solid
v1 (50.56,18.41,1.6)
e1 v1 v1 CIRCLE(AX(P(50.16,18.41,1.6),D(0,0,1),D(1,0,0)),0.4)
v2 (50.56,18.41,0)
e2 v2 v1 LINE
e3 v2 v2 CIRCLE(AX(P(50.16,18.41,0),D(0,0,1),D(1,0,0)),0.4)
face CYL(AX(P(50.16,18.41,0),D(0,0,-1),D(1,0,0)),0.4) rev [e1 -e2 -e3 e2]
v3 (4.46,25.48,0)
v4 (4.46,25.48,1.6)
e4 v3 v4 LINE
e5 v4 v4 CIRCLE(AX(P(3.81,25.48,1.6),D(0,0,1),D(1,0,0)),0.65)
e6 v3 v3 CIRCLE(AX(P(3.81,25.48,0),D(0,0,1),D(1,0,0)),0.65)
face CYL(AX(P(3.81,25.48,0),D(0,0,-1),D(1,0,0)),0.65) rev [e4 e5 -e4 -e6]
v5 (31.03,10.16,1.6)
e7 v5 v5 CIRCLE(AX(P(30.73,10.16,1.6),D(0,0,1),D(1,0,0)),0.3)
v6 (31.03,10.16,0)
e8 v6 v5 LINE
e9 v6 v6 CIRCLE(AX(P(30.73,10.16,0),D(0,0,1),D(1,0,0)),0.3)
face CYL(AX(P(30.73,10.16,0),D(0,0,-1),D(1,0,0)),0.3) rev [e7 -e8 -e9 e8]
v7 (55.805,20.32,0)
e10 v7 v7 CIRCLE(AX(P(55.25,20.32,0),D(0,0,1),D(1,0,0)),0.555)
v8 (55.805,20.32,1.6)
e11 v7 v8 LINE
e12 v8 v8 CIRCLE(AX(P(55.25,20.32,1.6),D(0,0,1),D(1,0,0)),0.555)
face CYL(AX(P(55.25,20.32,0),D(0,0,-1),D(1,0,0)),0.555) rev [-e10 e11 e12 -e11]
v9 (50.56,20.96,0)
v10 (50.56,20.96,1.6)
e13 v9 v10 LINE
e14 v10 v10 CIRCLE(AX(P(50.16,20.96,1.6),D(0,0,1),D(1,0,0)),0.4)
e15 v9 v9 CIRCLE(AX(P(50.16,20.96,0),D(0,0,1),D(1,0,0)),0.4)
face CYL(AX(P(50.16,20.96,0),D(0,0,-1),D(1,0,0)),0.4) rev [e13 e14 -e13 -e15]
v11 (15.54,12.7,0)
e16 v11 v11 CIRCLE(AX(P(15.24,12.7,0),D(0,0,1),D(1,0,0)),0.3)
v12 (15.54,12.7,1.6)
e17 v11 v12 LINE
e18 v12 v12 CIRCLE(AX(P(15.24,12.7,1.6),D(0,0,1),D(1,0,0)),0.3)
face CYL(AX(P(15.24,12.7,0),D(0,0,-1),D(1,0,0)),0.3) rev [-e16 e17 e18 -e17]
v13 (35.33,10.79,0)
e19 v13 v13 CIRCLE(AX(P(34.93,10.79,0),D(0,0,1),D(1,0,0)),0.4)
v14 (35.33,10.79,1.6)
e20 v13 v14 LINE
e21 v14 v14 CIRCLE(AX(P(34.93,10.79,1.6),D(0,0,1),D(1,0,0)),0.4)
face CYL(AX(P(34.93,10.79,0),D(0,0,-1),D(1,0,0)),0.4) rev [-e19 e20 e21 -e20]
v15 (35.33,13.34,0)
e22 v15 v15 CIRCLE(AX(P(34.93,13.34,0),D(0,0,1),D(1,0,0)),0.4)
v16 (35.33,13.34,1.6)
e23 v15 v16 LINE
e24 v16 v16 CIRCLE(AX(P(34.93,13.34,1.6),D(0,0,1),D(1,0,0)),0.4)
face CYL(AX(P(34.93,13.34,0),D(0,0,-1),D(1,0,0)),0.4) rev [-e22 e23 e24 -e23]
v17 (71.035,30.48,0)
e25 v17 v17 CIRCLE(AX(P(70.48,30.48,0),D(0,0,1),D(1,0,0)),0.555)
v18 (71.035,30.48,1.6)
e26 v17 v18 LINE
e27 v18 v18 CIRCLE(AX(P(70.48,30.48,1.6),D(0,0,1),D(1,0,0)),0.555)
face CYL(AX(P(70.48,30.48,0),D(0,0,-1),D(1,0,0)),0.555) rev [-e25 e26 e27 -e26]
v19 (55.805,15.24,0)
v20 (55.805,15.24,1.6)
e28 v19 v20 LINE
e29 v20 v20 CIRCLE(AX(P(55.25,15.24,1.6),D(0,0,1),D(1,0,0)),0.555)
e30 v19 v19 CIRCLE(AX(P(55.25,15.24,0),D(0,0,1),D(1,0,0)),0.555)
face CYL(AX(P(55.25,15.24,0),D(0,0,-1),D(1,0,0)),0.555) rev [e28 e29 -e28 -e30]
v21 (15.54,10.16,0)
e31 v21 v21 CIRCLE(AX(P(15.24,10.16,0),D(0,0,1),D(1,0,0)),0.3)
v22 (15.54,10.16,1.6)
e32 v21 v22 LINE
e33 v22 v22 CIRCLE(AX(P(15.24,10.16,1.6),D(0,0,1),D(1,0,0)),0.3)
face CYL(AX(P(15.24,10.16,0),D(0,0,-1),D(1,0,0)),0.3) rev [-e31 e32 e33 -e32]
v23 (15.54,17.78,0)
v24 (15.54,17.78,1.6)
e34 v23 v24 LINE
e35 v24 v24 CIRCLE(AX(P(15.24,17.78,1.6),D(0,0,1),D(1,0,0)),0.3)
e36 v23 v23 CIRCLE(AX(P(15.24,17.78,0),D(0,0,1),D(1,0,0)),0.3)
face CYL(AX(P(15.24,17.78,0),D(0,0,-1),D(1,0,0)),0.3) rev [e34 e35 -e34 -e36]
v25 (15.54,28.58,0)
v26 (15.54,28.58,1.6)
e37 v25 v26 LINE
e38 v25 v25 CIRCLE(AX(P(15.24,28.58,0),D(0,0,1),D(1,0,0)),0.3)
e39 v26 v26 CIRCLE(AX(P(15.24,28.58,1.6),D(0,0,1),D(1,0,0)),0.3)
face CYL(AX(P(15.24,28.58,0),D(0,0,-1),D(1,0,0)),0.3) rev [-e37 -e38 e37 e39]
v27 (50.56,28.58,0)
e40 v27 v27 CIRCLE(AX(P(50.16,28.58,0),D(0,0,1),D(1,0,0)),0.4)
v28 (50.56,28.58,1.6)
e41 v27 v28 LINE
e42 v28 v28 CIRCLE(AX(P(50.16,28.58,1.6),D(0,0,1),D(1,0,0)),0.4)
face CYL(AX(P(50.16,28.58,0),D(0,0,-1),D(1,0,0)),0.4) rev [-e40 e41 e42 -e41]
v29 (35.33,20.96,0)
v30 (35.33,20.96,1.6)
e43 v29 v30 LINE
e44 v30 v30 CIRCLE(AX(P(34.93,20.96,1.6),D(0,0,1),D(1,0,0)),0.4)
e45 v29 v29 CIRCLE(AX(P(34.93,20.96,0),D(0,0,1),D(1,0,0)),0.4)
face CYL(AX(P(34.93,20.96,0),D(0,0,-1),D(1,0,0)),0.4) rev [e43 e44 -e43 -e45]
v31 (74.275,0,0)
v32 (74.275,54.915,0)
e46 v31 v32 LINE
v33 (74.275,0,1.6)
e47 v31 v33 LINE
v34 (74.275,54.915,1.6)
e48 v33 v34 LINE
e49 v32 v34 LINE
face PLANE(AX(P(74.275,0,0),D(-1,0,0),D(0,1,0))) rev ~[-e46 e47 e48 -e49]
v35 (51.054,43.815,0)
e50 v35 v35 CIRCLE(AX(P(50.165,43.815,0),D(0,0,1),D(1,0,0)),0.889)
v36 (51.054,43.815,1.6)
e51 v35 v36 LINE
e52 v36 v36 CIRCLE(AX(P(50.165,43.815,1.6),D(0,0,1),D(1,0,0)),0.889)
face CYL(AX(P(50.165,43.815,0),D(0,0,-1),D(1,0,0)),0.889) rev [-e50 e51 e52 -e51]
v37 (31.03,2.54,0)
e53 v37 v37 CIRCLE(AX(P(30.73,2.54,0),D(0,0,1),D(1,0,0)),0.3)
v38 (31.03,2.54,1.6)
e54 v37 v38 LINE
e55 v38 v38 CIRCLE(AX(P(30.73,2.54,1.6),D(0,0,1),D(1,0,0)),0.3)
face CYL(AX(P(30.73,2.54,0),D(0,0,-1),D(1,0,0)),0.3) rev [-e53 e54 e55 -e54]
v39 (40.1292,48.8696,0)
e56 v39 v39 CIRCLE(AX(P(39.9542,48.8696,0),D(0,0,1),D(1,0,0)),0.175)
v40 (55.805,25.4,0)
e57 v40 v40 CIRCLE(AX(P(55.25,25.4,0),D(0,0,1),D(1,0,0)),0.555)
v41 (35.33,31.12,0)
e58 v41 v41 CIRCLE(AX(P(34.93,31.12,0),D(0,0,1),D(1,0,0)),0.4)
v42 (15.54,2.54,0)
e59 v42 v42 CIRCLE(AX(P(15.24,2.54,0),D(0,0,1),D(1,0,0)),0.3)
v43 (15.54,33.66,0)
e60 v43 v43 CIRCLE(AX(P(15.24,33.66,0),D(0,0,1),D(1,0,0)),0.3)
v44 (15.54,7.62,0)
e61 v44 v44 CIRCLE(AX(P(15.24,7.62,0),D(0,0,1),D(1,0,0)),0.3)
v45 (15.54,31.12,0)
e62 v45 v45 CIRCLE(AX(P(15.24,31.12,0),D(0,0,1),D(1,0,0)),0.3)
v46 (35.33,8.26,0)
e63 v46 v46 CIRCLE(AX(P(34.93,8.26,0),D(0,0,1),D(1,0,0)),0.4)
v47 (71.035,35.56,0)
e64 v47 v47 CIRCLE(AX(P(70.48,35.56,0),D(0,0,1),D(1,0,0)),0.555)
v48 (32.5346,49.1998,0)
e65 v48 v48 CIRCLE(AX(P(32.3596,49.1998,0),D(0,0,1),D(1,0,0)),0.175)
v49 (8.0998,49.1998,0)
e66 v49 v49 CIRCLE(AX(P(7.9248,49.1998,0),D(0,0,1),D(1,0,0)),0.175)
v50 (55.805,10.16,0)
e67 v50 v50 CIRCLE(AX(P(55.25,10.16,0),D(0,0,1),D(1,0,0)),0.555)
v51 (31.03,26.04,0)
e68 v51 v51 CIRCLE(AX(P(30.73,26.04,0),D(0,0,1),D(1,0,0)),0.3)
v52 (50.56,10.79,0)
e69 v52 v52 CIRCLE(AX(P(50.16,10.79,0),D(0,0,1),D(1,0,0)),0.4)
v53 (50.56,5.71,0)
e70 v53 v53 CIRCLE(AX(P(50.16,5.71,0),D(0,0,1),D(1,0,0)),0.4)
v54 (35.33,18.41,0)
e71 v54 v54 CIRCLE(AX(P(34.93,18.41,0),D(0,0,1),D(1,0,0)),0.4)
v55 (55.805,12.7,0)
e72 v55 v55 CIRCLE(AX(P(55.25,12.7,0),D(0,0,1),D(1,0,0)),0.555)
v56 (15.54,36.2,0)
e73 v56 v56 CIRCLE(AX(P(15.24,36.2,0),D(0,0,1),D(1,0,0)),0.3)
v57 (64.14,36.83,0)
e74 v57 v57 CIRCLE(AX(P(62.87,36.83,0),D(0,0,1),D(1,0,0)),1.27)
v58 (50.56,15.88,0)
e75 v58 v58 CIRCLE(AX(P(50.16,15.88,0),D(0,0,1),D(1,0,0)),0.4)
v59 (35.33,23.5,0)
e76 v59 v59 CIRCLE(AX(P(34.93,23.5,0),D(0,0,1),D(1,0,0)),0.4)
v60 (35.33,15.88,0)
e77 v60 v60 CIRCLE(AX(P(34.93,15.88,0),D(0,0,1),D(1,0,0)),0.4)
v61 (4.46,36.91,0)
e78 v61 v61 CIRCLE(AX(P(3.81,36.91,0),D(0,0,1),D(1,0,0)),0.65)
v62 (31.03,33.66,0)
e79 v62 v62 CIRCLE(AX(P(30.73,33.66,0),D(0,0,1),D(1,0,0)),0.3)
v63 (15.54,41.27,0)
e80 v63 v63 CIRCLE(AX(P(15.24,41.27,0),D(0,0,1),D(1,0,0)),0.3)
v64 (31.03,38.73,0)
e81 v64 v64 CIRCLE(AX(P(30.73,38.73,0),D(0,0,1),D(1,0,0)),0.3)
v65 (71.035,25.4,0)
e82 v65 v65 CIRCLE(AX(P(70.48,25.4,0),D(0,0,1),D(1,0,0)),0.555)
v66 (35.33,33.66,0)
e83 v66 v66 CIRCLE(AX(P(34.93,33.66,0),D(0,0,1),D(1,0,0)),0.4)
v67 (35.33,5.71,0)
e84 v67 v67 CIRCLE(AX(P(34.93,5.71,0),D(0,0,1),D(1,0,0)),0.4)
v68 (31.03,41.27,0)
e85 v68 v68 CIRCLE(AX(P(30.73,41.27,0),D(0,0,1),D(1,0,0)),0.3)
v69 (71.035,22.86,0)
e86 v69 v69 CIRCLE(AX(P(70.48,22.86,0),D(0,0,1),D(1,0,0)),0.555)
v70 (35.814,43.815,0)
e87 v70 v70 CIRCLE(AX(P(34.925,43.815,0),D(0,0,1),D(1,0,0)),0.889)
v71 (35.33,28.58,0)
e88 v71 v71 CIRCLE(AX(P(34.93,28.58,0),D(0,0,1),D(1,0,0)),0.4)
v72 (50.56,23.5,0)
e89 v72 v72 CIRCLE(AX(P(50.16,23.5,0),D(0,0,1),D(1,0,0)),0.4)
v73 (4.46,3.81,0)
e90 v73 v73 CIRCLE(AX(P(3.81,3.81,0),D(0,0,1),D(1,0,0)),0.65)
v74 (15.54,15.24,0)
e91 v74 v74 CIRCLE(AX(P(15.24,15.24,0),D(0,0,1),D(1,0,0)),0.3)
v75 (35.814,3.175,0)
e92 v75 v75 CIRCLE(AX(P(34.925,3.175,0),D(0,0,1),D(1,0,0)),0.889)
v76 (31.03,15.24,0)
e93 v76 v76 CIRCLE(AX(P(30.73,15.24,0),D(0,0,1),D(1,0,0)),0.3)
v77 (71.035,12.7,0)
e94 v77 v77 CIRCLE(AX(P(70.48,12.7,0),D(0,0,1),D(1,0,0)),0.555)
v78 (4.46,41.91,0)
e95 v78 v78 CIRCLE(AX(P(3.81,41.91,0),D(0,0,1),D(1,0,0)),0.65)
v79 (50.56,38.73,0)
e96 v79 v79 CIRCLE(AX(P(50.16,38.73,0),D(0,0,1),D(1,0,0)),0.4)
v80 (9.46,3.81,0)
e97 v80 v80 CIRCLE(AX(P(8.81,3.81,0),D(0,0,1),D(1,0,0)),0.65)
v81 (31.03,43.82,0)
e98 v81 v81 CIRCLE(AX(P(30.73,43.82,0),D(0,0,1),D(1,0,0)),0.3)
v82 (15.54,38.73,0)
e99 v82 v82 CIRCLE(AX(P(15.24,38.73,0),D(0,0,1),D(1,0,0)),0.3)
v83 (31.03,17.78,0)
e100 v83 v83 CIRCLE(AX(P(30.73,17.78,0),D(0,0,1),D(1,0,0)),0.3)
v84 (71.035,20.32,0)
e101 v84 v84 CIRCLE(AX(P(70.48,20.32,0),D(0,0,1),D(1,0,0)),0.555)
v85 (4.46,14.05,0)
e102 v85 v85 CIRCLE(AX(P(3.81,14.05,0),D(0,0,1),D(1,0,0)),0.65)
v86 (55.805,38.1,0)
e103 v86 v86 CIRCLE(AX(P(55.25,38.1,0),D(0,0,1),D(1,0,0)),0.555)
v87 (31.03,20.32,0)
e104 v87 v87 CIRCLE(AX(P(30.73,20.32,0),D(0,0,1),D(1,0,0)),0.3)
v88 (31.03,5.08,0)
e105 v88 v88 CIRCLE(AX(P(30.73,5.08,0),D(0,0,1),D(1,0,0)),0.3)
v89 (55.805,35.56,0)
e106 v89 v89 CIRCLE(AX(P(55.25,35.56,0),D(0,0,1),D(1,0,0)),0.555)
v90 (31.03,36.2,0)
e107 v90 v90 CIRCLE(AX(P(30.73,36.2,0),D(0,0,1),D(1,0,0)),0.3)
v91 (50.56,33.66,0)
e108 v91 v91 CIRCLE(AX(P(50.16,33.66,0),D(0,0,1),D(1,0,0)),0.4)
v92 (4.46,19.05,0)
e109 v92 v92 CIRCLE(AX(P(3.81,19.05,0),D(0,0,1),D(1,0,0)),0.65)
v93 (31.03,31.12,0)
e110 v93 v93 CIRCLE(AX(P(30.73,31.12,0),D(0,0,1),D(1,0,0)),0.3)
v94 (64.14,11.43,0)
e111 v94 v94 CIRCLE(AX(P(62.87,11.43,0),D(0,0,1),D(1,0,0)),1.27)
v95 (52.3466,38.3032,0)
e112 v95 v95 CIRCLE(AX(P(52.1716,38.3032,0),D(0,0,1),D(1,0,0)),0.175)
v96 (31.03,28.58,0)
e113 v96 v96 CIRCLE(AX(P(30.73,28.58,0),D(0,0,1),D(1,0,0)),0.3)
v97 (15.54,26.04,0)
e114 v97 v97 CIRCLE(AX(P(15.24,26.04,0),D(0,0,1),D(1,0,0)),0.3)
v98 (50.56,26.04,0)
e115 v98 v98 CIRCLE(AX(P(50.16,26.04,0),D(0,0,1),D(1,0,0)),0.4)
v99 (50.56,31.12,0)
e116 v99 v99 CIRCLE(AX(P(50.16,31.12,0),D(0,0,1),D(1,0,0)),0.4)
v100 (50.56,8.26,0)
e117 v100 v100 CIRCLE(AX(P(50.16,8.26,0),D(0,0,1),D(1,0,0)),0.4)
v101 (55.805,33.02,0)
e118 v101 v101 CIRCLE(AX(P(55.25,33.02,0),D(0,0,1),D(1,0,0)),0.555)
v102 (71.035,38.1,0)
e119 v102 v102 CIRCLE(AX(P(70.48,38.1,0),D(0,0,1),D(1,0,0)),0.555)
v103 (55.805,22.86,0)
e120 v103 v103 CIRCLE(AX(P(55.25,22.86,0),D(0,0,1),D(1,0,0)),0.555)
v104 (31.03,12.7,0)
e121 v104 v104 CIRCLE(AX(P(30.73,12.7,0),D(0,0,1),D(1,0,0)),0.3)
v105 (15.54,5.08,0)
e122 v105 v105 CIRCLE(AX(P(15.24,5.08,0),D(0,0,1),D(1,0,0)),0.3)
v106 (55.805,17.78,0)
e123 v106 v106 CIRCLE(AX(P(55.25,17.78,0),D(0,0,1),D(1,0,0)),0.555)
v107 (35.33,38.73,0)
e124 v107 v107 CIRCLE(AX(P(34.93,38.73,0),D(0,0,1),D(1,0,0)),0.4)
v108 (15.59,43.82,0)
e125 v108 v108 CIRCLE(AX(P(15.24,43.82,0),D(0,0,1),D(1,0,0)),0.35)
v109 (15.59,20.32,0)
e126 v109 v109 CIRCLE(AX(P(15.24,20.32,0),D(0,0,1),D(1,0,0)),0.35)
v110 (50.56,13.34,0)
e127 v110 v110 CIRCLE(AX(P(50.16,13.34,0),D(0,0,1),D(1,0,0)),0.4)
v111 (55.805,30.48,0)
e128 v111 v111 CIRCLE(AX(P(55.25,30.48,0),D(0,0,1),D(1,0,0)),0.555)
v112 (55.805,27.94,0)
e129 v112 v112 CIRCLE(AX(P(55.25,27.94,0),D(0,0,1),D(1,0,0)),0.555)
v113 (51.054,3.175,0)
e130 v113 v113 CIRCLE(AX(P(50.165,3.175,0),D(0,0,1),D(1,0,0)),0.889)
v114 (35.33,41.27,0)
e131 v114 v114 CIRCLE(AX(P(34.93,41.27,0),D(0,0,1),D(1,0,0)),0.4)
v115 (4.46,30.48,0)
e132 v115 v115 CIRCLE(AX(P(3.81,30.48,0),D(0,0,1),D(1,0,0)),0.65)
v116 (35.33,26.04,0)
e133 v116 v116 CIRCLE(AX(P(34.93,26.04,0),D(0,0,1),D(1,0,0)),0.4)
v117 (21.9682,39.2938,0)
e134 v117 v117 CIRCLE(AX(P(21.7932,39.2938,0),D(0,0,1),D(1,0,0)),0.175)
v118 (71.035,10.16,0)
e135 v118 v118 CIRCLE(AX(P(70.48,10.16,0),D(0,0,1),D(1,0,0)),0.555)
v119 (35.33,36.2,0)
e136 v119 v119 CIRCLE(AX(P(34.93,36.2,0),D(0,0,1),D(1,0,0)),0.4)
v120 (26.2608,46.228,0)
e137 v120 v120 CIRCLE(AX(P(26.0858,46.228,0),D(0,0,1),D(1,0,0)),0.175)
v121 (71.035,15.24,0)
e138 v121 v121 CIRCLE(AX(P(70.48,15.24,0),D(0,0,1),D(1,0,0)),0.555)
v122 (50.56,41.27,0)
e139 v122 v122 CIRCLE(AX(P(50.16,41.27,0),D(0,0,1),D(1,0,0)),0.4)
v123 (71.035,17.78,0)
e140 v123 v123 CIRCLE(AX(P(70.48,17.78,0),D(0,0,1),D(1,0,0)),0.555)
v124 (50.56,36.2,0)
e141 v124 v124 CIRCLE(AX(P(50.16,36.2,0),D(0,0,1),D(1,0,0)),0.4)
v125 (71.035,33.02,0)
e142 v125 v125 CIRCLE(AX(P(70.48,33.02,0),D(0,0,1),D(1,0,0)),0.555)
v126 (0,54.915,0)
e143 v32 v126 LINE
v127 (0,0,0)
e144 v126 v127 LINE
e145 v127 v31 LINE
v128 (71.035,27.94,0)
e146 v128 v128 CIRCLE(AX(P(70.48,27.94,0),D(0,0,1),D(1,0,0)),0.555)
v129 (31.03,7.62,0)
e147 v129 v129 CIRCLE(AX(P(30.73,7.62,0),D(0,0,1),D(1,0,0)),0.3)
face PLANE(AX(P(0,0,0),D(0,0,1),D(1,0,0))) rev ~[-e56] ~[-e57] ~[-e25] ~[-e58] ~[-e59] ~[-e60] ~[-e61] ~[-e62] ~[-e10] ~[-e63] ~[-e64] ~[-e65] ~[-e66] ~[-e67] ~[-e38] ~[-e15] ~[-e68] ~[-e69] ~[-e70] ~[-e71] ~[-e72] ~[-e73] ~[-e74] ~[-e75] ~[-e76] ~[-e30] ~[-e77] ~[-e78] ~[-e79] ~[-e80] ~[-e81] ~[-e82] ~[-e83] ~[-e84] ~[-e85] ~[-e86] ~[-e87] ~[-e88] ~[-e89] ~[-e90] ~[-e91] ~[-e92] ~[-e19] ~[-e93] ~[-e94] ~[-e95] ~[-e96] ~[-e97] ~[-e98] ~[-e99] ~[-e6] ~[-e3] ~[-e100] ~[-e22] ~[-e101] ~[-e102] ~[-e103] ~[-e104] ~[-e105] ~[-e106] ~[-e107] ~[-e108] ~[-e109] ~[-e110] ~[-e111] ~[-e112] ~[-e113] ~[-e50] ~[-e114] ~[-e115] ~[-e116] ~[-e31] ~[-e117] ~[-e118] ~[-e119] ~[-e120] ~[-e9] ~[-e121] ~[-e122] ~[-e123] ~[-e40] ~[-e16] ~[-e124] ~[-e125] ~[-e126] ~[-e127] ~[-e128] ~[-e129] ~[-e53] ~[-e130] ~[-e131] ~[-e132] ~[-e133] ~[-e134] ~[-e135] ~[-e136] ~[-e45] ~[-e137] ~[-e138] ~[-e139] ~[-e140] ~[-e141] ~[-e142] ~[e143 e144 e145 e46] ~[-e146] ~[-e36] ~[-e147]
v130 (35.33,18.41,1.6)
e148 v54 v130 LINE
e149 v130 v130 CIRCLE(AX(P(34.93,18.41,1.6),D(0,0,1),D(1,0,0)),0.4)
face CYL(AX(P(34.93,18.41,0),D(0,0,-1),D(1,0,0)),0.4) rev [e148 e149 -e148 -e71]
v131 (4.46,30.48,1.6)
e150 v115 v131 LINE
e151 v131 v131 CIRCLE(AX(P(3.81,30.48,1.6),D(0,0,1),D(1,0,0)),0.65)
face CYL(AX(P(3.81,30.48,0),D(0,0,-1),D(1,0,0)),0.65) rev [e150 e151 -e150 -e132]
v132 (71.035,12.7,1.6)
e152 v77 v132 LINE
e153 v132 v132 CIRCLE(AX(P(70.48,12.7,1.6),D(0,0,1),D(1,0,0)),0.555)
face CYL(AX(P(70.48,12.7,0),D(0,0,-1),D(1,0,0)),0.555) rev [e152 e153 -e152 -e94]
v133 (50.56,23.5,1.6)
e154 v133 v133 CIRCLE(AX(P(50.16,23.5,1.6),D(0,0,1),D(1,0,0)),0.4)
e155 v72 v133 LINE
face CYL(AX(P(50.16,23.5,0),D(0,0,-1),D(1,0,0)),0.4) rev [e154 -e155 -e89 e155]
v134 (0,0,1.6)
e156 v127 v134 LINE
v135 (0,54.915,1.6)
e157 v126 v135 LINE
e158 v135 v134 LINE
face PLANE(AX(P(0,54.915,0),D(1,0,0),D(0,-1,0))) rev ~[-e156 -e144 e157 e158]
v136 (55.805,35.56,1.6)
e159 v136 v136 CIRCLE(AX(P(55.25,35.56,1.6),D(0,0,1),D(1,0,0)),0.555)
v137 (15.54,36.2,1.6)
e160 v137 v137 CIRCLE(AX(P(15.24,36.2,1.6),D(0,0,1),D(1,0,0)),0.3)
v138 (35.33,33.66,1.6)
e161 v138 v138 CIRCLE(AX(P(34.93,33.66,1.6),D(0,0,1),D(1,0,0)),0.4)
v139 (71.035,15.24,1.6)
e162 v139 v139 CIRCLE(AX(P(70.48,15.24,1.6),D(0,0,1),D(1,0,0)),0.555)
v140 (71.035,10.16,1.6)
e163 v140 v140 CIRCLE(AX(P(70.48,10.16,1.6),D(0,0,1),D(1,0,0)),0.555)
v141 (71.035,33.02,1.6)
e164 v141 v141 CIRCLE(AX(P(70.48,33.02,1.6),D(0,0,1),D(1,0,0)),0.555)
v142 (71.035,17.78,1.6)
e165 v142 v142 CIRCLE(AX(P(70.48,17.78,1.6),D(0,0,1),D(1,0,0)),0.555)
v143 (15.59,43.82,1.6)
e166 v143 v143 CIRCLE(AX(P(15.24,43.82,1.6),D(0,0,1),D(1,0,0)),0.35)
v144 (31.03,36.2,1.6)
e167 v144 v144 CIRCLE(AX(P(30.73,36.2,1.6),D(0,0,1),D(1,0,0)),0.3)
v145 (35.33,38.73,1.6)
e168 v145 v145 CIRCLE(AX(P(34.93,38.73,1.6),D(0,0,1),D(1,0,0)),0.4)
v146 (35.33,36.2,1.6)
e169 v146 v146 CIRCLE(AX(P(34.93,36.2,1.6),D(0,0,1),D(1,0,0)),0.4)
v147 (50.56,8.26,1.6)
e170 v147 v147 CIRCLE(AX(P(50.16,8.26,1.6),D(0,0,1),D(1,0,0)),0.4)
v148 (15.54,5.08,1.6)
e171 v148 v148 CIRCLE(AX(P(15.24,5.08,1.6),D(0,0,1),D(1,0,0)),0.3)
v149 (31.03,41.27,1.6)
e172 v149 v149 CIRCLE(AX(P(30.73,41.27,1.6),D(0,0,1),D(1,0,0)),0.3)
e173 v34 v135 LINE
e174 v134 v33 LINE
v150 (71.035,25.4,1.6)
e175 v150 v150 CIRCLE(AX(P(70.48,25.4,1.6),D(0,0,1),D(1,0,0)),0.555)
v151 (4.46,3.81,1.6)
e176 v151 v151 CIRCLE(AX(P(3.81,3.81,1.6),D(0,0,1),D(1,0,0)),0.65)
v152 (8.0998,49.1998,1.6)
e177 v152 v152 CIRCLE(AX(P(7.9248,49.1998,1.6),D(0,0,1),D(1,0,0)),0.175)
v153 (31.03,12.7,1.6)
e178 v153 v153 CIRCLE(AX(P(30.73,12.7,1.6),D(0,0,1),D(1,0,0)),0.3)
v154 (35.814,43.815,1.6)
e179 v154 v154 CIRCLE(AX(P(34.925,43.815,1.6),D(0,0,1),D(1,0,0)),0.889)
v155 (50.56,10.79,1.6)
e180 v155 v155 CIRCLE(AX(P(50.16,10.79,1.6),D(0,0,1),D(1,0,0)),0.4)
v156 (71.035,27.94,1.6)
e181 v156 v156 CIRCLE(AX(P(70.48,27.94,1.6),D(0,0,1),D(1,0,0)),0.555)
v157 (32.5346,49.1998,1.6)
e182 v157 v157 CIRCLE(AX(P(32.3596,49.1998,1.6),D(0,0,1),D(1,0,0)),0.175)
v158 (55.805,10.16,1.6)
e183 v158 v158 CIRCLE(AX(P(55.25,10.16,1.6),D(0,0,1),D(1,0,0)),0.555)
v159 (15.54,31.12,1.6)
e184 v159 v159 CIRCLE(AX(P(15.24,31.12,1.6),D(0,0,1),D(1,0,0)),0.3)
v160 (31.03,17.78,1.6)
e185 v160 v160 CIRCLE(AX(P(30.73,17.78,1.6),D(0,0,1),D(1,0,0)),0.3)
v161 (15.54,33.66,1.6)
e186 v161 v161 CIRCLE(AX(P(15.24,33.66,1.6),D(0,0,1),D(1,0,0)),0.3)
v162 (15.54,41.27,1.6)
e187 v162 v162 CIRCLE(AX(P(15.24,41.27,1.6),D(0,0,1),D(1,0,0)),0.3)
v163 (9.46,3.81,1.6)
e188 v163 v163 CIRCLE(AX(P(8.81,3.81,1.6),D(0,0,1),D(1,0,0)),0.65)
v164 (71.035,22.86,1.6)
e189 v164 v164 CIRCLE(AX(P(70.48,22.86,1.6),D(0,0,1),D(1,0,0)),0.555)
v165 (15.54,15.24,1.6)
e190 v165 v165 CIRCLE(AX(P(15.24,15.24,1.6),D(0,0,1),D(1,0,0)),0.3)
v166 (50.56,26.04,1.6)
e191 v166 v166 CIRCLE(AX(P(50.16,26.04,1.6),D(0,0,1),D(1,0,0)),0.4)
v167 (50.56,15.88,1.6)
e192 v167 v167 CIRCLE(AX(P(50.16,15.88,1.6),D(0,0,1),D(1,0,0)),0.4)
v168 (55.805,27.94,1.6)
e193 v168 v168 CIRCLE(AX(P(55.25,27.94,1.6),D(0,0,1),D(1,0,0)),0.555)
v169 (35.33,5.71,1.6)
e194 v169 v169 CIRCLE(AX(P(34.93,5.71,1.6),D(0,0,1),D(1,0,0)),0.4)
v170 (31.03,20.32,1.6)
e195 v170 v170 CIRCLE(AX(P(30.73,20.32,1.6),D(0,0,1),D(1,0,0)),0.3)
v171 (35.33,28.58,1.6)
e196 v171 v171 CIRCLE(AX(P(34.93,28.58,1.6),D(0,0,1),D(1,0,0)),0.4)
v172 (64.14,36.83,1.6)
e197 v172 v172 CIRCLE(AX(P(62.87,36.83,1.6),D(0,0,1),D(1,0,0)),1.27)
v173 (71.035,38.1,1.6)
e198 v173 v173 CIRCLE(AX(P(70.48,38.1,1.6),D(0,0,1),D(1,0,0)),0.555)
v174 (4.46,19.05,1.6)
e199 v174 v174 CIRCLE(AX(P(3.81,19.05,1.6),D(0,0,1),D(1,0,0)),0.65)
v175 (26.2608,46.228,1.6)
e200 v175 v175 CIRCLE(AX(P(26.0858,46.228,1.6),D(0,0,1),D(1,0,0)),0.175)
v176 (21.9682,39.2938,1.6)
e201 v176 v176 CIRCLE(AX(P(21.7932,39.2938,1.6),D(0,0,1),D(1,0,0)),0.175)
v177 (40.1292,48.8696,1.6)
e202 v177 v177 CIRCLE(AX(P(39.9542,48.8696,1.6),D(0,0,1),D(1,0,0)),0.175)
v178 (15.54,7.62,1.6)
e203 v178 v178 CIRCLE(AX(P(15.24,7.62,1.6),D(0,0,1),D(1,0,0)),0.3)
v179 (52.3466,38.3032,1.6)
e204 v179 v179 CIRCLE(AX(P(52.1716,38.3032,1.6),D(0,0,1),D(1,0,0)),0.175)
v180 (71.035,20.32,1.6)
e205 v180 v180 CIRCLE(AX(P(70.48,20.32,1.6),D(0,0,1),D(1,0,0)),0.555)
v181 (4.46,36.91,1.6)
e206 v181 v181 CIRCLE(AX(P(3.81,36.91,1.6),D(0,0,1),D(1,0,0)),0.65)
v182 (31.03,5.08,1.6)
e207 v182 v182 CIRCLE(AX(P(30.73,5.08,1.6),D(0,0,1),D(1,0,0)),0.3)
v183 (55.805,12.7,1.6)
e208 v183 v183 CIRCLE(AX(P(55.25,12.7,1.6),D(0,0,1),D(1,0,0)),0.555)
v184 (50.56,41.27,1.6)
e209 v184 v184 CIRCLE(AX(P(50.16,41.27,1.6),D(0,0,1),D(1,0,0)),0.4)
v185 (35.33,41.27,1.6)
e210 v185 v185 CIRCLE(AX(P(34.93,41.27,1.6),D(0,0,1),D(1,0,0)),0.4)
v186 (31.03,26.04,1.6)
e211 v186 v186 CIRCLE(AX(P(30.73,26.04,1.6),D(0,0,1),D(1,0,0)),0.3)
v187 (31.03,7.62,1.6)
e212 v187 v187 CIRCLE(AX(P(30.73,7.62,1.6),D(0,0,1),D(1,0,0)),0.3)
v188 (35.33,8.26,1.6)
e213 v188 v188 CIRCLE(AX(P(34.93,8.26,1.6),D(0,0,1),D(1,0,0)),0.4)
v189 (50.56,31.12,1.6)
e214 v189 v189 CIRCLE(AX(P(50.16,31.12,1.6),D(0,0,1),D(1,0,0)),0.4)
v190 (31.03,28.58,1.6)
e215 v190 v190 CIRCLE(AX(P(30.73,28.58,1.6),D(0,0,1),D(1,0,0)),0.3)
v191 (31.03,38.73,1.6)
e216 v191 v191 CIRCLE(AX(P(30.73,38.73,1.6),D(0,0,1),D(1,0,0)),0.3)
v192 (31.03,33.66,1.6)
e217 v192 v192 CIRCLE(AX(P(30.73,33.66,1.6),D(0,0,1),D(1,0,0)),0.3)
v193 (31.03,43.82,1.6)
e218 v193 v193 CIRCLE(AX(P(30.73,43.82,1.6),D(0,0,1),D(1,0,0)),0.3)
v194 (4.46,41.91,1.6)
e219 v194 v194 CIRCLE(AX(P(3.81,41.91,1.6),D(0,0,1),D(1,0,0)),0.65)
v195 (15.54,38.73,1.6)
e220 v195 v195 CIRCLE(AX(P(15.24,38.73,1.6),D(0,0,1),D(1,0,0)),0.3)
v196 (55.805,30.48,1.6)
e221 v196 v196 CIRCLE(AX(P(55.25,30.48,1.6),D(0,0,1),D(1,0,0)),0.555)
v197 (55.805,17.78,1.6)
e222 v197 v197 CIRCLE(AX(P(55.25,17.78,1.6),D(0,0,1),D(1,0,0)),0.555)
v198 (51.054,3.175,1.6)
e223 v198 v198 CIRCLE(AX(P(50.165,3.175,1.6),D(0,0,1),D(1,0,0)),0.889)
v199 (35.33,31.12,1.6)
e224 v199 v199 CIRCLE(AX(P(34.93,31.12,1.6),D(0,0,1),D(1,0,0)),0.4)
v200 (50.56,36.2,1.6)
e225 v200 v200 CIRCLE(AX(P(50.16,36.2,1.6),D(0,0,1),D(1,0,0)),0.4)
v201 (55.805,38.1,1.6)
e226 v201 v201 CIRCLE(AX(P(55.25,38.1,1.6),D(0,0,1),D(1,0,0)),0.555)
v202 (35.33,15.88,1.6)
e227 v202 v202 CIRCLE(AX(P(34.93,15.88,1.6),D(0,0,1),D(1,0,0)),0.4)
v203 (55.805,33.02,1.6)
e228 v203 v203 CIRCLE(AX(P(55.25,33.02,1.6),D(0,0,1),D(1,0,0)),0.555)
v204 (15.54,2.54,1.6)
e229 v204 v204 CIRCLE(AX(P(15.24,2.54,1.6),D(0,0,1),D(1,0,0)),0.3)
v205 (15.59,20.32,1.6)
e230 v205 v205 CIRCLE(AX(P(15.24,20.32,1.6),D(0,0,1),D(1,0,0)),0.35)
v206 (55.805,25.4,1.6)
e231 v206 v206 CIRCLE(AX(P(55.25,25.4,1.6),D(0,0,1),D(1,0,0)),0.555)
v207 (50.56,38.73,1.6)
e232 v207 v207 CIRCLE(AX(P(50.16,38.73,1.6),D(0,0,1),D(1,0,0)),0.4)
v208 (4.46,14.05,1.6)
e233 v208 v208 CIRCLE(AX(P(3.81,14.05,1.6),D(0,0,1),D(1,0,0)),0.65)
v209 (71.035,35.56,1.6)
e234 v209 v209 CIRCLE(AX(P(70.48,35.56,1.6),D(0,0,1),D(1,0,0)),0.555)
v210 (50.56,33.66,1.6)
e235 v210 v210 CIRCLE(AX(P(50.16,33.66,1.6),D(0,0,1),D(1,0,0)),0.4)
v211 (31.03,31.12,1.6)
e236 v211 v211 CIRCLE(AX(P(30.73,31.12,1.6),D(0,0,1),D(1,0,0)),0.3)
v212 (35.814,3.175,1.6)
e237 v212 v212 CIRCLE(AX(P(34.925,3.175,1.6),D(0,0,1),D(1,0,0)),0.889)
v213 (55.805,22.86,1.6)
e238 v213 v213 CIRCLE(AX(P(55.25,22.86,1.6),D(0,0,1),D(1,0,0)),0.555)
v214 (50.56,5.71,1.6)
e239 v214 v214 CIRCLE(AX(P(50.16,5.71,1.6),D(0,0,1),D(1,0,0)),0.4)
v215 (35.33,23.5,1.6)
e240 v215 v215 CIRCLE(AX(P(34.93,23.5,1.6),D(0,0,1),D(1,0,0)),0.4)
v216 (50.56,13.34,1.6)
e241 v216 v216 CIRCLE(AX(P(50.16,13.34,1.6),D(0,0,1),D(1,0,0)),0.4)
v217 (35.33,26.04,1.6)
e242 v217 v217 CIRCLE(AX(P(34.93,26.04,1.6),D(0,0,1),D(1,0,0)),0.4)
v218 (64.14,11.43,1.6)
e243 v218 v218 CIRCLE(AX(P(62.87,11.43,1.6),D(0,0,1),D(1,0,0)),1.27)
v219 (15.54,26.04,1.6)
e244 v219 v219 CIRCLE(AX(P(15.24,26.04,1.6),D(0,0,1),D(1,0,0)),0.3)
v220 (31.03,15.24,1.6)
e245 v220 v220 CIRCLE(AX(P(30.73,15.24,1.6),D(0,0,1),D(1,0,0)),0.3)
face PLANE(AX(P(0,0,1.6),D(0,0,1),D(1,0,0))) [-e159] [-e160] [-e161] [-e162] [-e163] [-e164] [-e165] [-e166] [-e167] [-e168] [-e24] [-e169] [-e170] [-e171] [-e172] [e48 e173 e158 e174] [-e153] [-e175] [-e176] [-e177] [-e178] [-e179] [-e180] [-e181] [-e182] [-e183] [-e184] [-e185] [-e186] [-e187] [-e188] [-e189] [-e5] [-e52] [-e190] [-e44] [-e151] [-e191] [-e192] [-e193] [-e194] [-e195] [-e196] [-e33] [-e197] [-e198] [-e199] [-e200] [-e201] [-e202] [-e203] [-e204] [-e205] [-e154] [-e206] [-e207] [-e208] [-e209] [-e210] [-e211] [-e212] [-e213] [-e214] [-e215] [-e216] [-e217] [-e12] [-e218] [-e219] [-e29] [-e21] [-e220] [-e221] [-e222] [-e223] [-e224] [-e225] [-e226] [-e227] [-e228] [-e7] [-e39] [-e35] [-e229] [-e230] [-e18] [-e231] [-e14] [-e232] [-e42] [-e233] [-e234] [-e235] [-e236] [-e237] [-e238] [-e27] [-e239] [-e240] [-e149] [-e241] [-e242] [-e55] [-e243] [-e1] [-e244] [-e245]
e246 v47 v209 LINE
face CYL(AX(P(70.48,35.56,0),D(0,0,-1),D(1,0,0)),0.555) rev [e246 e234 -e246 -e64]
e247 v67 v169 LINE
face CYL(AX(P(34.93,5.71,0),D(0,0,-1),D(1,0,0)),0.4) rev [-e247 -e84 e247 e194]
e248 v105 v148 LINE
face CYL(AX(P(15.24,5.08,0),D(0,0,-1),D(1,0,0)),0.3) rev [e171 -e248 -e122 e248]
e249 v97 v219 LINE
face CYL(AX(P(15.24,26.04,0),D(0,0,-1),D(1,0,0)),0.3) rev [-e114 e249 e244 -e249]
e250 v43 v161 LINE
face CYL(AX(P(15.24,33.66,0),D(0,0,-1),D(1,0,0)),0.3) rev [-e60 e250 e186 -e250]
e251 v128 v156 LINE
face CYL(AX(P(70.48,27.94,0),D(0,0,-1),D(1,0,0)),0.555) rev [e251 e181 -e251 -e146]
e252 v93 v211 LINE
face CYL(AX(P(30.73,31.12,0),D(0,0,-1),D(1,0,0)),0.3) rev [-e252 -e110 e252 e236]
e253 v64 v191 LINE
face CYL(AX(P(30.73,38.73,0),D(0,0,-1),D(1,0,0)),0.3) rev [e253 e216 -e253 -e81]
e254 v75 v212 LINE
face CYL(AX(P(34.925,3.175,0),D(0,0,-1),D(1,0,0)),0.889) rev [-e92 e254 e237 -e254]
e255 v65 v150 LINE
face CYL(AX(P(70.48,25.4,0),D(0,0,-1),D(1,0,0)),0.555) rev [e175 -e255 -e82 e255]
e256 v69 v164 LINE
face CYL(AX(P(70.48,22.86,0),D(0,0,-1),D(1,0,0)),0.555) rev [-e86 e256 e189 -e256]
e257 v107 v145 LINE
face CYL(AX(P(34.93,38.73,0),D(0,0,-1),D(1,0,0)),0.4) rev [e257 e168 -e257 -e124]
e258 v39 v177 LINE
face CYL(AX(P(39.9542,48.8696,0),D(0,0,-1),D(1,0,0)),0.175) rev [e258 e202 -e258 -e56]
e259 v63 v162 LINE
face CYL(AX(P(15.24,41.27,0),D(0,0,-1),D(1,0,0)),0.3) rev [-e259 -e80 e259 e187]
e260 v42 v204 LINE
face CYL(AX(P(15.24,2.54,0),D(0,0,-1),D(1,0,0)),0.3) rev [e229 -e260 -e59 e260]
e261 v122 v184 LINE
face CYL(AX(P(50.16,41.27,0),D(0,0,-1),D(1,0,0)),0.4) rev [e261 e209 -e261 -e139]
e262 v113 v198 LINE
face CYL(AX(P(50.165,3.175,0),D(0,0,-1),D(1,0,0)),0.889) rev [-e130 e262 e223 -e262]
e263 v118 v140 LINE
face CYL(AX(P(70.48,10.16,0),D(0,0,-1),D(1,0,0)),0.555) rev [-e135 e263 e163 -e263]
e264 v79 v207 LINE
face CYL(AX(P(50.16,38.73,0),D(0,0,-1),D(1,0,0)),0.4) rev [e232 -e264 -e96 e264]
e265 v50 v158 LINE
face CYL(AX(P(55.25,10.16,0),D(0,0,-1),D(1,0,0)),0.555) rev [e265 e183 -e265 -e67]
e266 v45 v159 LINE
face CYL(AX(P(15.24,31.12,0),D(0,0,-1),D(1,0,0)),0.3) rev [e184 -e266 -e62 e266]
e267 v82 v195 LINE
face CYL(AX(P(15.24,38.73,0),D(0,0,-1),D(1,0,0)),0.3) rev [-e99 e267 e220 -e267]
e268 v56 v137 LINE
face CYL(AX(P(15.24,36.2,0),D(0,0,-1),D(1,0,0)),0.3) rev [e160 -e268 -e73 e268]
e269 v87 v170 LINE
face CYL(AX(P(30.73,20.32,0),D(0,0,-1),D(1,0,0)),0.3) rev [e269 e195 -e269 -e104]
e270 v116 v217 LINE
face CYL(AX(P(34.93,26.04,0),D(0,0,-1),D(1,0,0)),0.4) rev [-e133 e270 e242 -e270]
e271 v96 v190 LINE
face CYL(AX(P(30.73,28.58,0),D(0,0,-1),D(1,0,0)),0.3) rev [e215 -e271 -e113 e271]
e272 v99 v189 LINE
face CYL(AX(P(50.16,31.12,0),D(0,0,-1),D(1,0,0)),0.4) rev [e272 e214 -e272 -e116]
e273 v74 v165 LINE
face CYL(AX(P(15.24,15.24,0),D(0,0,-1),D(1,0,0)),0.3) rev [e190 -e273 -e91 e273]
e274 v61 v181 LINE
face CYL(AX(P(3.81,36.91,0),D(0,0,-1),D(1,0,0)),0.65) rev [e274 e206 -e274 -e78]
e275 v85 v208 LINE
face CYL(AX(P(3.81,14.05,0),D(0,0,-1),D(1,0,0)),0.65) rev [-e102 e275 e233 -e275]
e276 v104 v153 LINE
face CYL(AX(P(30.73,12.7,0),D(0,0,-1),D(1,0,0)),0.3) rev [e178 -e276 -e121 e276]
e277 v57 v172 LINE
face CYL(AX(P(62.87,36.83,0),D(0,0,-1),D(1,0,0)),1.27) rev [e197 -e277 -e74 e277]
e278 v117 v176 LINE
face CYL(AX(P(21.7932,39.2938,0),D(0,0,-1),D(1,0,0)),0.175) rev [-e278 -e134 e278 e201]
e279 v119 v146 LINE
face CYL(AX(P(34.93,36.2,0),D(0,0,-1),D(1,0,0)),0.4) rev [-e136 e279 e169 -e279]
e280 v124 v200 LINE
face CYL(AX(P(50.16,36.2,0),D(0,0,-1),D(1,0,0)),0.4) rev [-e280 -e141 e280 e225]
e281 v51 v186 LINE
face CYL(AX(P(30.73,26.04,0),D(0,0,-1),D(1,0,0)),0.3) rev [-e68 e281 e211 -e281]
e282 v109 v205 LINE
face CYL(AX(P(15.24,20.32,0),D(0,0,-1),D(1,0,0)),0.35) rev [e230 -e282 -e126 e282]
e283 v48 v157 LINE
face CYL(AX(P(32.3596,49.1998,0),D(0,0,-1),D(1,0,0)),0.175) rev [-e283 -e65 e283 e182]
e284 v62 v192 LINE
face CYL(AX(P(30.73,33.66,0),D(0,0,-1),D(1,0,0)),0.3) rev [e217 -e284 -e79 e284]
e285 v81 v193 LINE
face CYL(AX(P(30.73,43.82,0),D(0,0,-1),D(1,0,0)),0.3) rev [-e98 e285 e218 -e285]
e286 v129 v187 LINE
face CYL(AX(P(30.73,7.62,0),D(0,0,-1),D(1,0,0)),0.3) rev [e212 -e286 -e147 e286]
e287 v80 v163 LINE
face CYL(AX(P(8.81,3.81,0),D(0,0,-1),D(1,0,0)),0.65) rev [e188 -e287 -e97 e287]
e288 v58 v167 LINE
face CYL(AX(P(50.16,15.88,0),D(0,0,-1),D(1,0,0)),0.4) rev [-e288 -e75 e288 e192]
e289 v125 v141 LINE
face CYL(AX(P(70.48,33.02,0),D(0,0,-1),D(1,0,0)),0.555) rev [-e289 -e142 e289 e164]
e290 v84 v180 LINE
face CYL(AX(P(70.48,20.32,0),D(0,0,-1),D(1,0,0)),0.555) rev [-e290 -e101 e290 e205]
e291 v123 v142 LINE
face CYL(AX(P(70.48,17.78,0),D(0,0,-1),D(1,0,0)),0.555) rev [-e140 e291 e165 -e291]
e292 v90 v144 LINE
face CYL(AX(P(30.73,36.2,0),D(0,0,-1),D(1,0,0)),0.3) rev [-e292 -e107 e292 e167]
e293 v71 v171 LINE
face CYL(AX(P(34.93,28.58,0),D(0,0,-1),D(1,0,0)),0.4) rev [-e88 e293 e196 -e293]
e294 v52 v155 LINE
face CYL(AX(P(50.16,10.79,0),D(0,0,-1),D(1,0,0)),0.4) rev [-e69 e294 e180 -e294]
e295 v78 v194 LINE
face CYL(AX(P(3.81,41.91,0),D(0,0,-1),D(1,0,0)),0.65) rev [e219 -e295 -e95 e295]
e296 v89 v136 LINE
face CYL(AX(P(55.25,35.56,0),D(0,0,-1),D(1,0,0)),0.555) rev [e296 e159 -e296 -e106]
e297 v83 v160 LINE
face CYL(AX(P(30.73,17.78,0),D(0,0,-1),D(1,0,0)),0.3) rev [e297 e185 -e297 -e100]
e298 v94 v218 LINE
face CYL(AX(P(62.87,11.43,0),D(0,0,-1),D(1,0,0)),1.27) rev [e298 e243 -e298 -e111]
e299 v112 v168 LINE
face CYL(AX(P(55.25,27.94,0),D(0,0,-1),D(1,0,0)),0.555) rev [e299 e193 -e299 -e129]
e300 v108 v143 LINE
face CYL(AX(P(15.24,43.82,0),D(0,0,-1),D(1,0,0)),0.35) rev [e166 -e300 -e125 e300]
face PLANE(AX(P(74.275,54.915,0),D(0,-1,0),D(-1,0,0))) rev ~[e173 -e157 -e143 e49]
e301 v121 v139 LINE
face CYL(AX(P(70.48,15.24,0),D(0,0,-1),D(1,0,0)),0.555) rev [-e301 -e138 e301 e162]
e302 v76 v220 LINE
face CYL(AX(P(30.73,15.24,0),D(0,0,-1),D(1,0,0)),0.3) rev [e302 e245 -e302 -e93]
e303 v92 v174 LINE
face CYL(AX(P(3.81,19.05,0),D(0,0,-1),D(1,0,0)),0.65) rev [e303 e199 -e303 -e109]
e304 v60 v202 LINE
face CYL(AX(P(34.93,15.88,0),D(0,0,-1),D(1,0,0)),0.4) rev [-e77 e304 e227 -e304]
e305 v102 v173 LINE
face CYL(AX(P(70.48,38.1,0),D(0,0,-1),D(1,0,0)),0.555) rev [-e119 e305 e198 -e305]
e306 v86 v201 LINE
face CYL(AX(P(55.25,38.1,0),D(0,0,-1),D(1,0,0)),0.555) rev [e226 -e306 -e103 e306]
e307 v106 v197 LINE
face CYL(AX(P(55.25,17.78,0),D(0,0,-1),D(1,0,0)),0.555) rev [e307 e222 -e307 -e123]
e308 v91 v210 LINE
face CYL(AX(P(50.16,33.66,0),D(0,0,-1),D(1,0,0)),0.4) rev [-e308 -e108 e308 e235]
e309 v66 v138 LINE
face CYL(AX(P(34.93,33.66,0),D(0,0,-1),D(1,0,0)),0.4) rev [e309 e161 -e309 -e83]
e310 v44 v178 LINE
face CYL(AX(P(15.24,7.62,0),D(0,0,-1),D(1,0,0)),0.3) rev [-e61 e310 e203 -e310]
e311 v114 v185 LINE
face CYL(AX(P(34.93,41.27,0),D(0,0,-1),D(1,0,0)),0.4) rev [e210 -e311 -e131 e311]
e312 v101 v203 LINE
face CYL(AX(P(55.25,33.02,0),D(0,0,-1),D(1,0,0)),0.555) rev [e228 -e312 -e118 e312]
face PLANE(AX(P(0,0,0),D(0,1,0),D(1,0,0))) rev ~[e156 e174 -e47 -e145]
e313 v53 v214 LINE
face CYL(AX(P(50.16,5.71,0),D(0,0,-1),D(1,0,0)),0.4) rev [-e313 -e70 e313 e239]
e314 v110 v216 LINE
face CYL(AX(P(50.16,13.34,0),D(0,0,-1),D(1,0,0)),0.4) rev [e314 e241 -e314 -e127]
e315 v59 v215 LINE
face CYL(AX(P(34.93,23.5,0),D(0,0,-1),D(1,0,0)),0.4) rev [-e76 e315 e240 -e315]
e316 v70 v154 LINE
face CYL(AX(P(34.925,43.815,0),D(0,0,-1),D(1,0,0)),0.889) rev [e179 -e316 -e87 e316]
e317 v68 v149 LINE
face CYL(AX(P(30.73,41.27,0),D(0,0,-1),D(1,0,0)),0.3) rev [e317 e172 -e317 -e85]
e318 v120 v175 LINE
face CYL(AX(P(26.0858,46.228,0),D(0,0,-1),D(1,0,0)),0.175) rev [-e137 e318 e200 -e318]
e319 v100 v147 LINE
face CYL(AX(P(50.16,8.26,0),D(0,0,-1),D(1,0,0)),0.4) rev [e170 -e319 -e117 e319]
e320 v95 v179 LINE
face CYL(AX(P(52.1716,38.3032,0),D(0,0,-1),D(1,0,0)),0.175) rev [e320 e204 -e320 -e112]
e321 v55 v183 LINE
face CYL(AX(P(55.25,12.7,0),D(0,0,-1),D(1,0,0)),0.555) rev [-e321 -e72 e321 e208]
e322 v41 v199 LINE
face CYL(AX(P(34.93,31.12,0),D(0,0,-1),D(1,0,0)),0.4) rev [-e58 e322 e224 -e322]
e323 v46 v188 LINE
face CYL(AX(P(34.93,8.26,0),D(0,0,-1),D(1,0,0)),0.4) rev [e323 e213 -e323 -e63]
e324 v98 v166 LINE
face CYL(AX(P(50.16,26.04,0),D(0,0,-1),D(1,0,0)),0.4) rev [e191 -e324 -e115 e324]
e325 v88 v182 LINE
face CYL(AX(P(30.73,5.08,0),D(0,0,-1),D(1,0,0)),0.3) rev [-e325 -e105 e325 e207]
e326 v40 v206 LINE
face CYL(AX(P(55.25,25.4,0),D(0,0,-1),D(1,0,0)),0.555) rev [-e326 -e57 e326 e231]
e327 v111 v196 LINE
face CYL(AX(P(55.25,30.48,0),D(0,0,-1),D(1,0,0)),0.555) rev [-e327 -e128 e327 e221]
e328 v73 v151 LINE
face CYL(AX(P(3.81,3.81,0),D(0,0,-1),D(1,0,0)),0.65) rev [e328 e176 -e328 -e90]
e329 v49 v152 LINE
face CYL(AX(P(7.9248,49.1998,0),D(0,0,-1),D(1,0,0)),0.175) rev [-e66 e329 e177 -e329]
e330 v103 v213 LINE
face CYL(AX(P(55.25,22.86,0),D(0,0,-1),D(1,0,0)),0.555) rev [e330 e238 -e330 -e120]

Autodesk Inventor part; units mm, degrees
ref_plane "YZ Plane" through (0, 0, 0) normal (1, 0, 0) x (0, 1, 0)
ref_plane "XZ Plane" through (0, 0, 0) normal (0, 1, 0) x (-1, 0, 0)
ref_plane "XY Plane" through (0, 0, 0) normal (0, 0, 1) x (1, 0, 0)
sketch "Sketch1" plane through (0, 0, 0) normal (0, 0, 1) x (1, 0, 0)
  line L0 (0, 0) -> (74.275, 0)
  line L1 (74.275, 0) -> (74.275, 54.915)
  line L2 (74.275, 54.915) -> (0, 54.915)
  line L3 (0, 54.915) -> (0, 0)
  circle A0 centre (50.16, 5.71) radius 0.4
  circle A1 centre (50.16, 8.26) radius 0.4
  circle A2 centre (50.16, 10.79) radius 0.4
  circle A3 centre (50.16, 13.34) radius 0.4
  circle A4 centre (50.16, 15.88) radius 0.4
  circle A5 centre (50.16, 18.41) radius 0.4
  circle A6 centre (50.16, 20.96) radius 0.4
  circle A7 centre (50.16, 23.5) radius 0.4
  circle A8 centre (50.16, 26.04) radius 0.4
  circle A9 centre (50.16, 28.58) radius 0.4
  circle A10 centre (50.16, 31.12) radius 0.4
  circle A11 centre (50.16, 33.66) radius 0.4
  circle A12 centre (50.16, 36.2) radius 0.4
  circle A13 centre (50.16, 38.73) radius 0.4
  circle A14 centre (50.16, 41.27) radius 0.4
  circle A15 centre (34.93, 41.27) radius 0.4
  circle A16 centre (34.93, 38.73) radius 0.4
  circle A17 centre (34.93, 36.2) radius 0.4
  circle A18 centre (34.93, 33.66) radius 0.4
  circle A19 centre (34.93, 31.12) radius 0.4
  circle A20 centre (34.93, 28.58) radius 0.4
  circle A21 centre (34.93, 26.04) radius 0.4
  circle A22 centre (34.93, 23.5) radius 0.4
  circle A23 centre (34.93, 20.96) radius 0.4
  circle A24 centre (34.93, 18.41) radius 0.4
  circle A25 centre (34.93, 15.88) radius 0.4
  circle A26 centre (34.93, 13.34) radius 0.4
  circle A27 centre (34.93, 10.79) radius 0.4
  circle A28 centre (34.93, 8.26) radius 0.4
  circle A29 centre (34.93, 5.71) radius 0.4
  circle A30 centre (3.81, 41.91) radius 0.65
  circle A31 centre (3.81, 36.91) radius 0.65
  circle A32 centre (3.81, 30.48) radius 0.65
  circle A33 centre (3.81, 25.48) radius 0.65
  circle A34 centre (3.81, 19.05) radius 0.65
  circle A35 centre (3.81, 14.05) radius 0.65
  circle A36 centre (3.81, 3.81) radius 0.65
  circle A37 centre (8.81, 3.81) radius 0.65
  circle A38 centre (15.24, 36.2) radius 0.3
  circle A39 centre (15.24, 33.66) radius 0.3
  circle A40 centre (30.73, 38.73) radius 0.3
  circle A41 centre (30.73, 41.27) radius 0.3
  circle A42 centre (15.24, 28.58) radius 0.3
  circle A43 centre (15.24, 31.12) radius 0.3
  circle A44 centre (30.73, 33.66) radius 0.3
  circle A45 centre (30.73, 31.12) radius 0.3
  circle A46 centre (15.24, 38.73) radius 0.3
  circle A47 centre (15.24, 26.04) radius 0.3
  circle A48 centre (30.73, 26.04) radius 0.3
  circle A49 centre (30.73, 43.82) radius 0.3
  circle A50 centre (30.73, 28.58) radius 0.3
  circle A51 centre (30.73, 36.2) radius 0.3
  circle A52 centre (15.24, 41.27) radius 0.3
  circle A53 centre (15.24, 43.82) radius 0.35
  circle A54 centre (15.24, 12.7) radius 0.3
  circle A55 centre (15.24, 10.16) radius 0.3
  circle A56 centre (30.73, 15.24) radius 0.3
  circle A57 centre (30.73, 17.78) radius 0.3
  circle A58 centre (15.24, 5.08) radius 0.3
  circle A59 centre (15.24, 7.62) radius 0.3
  circle A60 centre (30.73, 10.16) radius 0.3
  circle A61 centre (30.73, 7.62) radius 0.3
  circle A62 centre (15.24, 15.24) radius 0.3
  circle A63 centre (15.24, 2.54) radius 0.3
  circle A64 centre (30.73, 2.54) radius 0.3
  circle A65 centre (30.73, 20.32) radius 0.3
  circle A66 centre (30.73, 5.08) radius 0.3
  circle A67 centre (30.73, 12.7) radius 0.3
  circle A68 centre (15.24, 17.78) radius 0.3
  circle A69 centre (15.24, 20.32) radius 0.35
  circle A70 centre (55.25, 38.1) radius 0.555
  circle A71 centre (55.25, 35.56) radius 0.555
  circle A72 centre (55.25, 33.02) radius 0.555
  circle A73 centre (55.25, 30.48) radius 0.555
  circle A74 centre (55.25, 27.94) radius 0.555
  circle A75 centre (55.25, 25.4) radius 0.555
  circle A76 centre (55.25, 22.86) radius 0.555
  circle A77 centre (55.25, 20.32) radius 0.555
  circle A78 centre (55.25, 17.78) radius 0.555
  circle A79 centre (55.25, 15.24) radius 0.555
  circle A80 centre (55.25, 12.7) radius 0.555
  circle A81 centre (55.25, 10.16) radius 0.555
  circle A82 centre (70.48, 10.16) radius 0.555
  circle A83 centre (70.48, 12.7) radius 0.555
  circle A84 centre (70.48, 15.24) radius 0.555
  circle A85 centre (70.48, 17.78) radius 0.555
  circle A86 centre (70.48, 20.32) radius 0.555
  circle A87 centre (70.48, 22.86) radius 0.555
  circle A88 centre (70.48, 25.4) radius 0.555
  circle A89 centre (70.48, 27.94) radius 0.555
  circle A90 centre (70.48, 30.48) radius 0.555
  circle A91 centre (70.48, 33.02) radius 0.555
  circle A92 centre (70.48, 35.56) radius 0.555
  circle A93 centre (70.48, 38.1) radius 0.555
  circle A94 centre (62.87, 36.83) radius 1.27
  circle A95 centre (62.87, 11.43) radius 1.27
  circle A96 centre (50.165, 3.175) radius 0.889
  circle A97 centre (34.925, 3.175) radius 0.889
  circle A98 centre (34.925, 43.815) radius 0.889
  circle A99 centre (50.165, 43.815) radius 0.889
  circle A100 centre (52.1716, 38.3032) radius 0.175
  circle A101 centre (39.9542, 48.8696) radius 0.175
  circle A102 centre (7.9248, 49.1998) radius 0.175
  circle A103 centre (21.7932, 39.2938) radius 0.175
  circle A104 centre (32.3596, 49.1998) radius 0.175
  circle A105 centre (26.0858, 46.228) radius 0.175
extrude "dog_driver_4.brd_Outline" add sketch "Sketch1" along normal blind 1.6
properties part number "dog_driver_4.brd_Outline"
